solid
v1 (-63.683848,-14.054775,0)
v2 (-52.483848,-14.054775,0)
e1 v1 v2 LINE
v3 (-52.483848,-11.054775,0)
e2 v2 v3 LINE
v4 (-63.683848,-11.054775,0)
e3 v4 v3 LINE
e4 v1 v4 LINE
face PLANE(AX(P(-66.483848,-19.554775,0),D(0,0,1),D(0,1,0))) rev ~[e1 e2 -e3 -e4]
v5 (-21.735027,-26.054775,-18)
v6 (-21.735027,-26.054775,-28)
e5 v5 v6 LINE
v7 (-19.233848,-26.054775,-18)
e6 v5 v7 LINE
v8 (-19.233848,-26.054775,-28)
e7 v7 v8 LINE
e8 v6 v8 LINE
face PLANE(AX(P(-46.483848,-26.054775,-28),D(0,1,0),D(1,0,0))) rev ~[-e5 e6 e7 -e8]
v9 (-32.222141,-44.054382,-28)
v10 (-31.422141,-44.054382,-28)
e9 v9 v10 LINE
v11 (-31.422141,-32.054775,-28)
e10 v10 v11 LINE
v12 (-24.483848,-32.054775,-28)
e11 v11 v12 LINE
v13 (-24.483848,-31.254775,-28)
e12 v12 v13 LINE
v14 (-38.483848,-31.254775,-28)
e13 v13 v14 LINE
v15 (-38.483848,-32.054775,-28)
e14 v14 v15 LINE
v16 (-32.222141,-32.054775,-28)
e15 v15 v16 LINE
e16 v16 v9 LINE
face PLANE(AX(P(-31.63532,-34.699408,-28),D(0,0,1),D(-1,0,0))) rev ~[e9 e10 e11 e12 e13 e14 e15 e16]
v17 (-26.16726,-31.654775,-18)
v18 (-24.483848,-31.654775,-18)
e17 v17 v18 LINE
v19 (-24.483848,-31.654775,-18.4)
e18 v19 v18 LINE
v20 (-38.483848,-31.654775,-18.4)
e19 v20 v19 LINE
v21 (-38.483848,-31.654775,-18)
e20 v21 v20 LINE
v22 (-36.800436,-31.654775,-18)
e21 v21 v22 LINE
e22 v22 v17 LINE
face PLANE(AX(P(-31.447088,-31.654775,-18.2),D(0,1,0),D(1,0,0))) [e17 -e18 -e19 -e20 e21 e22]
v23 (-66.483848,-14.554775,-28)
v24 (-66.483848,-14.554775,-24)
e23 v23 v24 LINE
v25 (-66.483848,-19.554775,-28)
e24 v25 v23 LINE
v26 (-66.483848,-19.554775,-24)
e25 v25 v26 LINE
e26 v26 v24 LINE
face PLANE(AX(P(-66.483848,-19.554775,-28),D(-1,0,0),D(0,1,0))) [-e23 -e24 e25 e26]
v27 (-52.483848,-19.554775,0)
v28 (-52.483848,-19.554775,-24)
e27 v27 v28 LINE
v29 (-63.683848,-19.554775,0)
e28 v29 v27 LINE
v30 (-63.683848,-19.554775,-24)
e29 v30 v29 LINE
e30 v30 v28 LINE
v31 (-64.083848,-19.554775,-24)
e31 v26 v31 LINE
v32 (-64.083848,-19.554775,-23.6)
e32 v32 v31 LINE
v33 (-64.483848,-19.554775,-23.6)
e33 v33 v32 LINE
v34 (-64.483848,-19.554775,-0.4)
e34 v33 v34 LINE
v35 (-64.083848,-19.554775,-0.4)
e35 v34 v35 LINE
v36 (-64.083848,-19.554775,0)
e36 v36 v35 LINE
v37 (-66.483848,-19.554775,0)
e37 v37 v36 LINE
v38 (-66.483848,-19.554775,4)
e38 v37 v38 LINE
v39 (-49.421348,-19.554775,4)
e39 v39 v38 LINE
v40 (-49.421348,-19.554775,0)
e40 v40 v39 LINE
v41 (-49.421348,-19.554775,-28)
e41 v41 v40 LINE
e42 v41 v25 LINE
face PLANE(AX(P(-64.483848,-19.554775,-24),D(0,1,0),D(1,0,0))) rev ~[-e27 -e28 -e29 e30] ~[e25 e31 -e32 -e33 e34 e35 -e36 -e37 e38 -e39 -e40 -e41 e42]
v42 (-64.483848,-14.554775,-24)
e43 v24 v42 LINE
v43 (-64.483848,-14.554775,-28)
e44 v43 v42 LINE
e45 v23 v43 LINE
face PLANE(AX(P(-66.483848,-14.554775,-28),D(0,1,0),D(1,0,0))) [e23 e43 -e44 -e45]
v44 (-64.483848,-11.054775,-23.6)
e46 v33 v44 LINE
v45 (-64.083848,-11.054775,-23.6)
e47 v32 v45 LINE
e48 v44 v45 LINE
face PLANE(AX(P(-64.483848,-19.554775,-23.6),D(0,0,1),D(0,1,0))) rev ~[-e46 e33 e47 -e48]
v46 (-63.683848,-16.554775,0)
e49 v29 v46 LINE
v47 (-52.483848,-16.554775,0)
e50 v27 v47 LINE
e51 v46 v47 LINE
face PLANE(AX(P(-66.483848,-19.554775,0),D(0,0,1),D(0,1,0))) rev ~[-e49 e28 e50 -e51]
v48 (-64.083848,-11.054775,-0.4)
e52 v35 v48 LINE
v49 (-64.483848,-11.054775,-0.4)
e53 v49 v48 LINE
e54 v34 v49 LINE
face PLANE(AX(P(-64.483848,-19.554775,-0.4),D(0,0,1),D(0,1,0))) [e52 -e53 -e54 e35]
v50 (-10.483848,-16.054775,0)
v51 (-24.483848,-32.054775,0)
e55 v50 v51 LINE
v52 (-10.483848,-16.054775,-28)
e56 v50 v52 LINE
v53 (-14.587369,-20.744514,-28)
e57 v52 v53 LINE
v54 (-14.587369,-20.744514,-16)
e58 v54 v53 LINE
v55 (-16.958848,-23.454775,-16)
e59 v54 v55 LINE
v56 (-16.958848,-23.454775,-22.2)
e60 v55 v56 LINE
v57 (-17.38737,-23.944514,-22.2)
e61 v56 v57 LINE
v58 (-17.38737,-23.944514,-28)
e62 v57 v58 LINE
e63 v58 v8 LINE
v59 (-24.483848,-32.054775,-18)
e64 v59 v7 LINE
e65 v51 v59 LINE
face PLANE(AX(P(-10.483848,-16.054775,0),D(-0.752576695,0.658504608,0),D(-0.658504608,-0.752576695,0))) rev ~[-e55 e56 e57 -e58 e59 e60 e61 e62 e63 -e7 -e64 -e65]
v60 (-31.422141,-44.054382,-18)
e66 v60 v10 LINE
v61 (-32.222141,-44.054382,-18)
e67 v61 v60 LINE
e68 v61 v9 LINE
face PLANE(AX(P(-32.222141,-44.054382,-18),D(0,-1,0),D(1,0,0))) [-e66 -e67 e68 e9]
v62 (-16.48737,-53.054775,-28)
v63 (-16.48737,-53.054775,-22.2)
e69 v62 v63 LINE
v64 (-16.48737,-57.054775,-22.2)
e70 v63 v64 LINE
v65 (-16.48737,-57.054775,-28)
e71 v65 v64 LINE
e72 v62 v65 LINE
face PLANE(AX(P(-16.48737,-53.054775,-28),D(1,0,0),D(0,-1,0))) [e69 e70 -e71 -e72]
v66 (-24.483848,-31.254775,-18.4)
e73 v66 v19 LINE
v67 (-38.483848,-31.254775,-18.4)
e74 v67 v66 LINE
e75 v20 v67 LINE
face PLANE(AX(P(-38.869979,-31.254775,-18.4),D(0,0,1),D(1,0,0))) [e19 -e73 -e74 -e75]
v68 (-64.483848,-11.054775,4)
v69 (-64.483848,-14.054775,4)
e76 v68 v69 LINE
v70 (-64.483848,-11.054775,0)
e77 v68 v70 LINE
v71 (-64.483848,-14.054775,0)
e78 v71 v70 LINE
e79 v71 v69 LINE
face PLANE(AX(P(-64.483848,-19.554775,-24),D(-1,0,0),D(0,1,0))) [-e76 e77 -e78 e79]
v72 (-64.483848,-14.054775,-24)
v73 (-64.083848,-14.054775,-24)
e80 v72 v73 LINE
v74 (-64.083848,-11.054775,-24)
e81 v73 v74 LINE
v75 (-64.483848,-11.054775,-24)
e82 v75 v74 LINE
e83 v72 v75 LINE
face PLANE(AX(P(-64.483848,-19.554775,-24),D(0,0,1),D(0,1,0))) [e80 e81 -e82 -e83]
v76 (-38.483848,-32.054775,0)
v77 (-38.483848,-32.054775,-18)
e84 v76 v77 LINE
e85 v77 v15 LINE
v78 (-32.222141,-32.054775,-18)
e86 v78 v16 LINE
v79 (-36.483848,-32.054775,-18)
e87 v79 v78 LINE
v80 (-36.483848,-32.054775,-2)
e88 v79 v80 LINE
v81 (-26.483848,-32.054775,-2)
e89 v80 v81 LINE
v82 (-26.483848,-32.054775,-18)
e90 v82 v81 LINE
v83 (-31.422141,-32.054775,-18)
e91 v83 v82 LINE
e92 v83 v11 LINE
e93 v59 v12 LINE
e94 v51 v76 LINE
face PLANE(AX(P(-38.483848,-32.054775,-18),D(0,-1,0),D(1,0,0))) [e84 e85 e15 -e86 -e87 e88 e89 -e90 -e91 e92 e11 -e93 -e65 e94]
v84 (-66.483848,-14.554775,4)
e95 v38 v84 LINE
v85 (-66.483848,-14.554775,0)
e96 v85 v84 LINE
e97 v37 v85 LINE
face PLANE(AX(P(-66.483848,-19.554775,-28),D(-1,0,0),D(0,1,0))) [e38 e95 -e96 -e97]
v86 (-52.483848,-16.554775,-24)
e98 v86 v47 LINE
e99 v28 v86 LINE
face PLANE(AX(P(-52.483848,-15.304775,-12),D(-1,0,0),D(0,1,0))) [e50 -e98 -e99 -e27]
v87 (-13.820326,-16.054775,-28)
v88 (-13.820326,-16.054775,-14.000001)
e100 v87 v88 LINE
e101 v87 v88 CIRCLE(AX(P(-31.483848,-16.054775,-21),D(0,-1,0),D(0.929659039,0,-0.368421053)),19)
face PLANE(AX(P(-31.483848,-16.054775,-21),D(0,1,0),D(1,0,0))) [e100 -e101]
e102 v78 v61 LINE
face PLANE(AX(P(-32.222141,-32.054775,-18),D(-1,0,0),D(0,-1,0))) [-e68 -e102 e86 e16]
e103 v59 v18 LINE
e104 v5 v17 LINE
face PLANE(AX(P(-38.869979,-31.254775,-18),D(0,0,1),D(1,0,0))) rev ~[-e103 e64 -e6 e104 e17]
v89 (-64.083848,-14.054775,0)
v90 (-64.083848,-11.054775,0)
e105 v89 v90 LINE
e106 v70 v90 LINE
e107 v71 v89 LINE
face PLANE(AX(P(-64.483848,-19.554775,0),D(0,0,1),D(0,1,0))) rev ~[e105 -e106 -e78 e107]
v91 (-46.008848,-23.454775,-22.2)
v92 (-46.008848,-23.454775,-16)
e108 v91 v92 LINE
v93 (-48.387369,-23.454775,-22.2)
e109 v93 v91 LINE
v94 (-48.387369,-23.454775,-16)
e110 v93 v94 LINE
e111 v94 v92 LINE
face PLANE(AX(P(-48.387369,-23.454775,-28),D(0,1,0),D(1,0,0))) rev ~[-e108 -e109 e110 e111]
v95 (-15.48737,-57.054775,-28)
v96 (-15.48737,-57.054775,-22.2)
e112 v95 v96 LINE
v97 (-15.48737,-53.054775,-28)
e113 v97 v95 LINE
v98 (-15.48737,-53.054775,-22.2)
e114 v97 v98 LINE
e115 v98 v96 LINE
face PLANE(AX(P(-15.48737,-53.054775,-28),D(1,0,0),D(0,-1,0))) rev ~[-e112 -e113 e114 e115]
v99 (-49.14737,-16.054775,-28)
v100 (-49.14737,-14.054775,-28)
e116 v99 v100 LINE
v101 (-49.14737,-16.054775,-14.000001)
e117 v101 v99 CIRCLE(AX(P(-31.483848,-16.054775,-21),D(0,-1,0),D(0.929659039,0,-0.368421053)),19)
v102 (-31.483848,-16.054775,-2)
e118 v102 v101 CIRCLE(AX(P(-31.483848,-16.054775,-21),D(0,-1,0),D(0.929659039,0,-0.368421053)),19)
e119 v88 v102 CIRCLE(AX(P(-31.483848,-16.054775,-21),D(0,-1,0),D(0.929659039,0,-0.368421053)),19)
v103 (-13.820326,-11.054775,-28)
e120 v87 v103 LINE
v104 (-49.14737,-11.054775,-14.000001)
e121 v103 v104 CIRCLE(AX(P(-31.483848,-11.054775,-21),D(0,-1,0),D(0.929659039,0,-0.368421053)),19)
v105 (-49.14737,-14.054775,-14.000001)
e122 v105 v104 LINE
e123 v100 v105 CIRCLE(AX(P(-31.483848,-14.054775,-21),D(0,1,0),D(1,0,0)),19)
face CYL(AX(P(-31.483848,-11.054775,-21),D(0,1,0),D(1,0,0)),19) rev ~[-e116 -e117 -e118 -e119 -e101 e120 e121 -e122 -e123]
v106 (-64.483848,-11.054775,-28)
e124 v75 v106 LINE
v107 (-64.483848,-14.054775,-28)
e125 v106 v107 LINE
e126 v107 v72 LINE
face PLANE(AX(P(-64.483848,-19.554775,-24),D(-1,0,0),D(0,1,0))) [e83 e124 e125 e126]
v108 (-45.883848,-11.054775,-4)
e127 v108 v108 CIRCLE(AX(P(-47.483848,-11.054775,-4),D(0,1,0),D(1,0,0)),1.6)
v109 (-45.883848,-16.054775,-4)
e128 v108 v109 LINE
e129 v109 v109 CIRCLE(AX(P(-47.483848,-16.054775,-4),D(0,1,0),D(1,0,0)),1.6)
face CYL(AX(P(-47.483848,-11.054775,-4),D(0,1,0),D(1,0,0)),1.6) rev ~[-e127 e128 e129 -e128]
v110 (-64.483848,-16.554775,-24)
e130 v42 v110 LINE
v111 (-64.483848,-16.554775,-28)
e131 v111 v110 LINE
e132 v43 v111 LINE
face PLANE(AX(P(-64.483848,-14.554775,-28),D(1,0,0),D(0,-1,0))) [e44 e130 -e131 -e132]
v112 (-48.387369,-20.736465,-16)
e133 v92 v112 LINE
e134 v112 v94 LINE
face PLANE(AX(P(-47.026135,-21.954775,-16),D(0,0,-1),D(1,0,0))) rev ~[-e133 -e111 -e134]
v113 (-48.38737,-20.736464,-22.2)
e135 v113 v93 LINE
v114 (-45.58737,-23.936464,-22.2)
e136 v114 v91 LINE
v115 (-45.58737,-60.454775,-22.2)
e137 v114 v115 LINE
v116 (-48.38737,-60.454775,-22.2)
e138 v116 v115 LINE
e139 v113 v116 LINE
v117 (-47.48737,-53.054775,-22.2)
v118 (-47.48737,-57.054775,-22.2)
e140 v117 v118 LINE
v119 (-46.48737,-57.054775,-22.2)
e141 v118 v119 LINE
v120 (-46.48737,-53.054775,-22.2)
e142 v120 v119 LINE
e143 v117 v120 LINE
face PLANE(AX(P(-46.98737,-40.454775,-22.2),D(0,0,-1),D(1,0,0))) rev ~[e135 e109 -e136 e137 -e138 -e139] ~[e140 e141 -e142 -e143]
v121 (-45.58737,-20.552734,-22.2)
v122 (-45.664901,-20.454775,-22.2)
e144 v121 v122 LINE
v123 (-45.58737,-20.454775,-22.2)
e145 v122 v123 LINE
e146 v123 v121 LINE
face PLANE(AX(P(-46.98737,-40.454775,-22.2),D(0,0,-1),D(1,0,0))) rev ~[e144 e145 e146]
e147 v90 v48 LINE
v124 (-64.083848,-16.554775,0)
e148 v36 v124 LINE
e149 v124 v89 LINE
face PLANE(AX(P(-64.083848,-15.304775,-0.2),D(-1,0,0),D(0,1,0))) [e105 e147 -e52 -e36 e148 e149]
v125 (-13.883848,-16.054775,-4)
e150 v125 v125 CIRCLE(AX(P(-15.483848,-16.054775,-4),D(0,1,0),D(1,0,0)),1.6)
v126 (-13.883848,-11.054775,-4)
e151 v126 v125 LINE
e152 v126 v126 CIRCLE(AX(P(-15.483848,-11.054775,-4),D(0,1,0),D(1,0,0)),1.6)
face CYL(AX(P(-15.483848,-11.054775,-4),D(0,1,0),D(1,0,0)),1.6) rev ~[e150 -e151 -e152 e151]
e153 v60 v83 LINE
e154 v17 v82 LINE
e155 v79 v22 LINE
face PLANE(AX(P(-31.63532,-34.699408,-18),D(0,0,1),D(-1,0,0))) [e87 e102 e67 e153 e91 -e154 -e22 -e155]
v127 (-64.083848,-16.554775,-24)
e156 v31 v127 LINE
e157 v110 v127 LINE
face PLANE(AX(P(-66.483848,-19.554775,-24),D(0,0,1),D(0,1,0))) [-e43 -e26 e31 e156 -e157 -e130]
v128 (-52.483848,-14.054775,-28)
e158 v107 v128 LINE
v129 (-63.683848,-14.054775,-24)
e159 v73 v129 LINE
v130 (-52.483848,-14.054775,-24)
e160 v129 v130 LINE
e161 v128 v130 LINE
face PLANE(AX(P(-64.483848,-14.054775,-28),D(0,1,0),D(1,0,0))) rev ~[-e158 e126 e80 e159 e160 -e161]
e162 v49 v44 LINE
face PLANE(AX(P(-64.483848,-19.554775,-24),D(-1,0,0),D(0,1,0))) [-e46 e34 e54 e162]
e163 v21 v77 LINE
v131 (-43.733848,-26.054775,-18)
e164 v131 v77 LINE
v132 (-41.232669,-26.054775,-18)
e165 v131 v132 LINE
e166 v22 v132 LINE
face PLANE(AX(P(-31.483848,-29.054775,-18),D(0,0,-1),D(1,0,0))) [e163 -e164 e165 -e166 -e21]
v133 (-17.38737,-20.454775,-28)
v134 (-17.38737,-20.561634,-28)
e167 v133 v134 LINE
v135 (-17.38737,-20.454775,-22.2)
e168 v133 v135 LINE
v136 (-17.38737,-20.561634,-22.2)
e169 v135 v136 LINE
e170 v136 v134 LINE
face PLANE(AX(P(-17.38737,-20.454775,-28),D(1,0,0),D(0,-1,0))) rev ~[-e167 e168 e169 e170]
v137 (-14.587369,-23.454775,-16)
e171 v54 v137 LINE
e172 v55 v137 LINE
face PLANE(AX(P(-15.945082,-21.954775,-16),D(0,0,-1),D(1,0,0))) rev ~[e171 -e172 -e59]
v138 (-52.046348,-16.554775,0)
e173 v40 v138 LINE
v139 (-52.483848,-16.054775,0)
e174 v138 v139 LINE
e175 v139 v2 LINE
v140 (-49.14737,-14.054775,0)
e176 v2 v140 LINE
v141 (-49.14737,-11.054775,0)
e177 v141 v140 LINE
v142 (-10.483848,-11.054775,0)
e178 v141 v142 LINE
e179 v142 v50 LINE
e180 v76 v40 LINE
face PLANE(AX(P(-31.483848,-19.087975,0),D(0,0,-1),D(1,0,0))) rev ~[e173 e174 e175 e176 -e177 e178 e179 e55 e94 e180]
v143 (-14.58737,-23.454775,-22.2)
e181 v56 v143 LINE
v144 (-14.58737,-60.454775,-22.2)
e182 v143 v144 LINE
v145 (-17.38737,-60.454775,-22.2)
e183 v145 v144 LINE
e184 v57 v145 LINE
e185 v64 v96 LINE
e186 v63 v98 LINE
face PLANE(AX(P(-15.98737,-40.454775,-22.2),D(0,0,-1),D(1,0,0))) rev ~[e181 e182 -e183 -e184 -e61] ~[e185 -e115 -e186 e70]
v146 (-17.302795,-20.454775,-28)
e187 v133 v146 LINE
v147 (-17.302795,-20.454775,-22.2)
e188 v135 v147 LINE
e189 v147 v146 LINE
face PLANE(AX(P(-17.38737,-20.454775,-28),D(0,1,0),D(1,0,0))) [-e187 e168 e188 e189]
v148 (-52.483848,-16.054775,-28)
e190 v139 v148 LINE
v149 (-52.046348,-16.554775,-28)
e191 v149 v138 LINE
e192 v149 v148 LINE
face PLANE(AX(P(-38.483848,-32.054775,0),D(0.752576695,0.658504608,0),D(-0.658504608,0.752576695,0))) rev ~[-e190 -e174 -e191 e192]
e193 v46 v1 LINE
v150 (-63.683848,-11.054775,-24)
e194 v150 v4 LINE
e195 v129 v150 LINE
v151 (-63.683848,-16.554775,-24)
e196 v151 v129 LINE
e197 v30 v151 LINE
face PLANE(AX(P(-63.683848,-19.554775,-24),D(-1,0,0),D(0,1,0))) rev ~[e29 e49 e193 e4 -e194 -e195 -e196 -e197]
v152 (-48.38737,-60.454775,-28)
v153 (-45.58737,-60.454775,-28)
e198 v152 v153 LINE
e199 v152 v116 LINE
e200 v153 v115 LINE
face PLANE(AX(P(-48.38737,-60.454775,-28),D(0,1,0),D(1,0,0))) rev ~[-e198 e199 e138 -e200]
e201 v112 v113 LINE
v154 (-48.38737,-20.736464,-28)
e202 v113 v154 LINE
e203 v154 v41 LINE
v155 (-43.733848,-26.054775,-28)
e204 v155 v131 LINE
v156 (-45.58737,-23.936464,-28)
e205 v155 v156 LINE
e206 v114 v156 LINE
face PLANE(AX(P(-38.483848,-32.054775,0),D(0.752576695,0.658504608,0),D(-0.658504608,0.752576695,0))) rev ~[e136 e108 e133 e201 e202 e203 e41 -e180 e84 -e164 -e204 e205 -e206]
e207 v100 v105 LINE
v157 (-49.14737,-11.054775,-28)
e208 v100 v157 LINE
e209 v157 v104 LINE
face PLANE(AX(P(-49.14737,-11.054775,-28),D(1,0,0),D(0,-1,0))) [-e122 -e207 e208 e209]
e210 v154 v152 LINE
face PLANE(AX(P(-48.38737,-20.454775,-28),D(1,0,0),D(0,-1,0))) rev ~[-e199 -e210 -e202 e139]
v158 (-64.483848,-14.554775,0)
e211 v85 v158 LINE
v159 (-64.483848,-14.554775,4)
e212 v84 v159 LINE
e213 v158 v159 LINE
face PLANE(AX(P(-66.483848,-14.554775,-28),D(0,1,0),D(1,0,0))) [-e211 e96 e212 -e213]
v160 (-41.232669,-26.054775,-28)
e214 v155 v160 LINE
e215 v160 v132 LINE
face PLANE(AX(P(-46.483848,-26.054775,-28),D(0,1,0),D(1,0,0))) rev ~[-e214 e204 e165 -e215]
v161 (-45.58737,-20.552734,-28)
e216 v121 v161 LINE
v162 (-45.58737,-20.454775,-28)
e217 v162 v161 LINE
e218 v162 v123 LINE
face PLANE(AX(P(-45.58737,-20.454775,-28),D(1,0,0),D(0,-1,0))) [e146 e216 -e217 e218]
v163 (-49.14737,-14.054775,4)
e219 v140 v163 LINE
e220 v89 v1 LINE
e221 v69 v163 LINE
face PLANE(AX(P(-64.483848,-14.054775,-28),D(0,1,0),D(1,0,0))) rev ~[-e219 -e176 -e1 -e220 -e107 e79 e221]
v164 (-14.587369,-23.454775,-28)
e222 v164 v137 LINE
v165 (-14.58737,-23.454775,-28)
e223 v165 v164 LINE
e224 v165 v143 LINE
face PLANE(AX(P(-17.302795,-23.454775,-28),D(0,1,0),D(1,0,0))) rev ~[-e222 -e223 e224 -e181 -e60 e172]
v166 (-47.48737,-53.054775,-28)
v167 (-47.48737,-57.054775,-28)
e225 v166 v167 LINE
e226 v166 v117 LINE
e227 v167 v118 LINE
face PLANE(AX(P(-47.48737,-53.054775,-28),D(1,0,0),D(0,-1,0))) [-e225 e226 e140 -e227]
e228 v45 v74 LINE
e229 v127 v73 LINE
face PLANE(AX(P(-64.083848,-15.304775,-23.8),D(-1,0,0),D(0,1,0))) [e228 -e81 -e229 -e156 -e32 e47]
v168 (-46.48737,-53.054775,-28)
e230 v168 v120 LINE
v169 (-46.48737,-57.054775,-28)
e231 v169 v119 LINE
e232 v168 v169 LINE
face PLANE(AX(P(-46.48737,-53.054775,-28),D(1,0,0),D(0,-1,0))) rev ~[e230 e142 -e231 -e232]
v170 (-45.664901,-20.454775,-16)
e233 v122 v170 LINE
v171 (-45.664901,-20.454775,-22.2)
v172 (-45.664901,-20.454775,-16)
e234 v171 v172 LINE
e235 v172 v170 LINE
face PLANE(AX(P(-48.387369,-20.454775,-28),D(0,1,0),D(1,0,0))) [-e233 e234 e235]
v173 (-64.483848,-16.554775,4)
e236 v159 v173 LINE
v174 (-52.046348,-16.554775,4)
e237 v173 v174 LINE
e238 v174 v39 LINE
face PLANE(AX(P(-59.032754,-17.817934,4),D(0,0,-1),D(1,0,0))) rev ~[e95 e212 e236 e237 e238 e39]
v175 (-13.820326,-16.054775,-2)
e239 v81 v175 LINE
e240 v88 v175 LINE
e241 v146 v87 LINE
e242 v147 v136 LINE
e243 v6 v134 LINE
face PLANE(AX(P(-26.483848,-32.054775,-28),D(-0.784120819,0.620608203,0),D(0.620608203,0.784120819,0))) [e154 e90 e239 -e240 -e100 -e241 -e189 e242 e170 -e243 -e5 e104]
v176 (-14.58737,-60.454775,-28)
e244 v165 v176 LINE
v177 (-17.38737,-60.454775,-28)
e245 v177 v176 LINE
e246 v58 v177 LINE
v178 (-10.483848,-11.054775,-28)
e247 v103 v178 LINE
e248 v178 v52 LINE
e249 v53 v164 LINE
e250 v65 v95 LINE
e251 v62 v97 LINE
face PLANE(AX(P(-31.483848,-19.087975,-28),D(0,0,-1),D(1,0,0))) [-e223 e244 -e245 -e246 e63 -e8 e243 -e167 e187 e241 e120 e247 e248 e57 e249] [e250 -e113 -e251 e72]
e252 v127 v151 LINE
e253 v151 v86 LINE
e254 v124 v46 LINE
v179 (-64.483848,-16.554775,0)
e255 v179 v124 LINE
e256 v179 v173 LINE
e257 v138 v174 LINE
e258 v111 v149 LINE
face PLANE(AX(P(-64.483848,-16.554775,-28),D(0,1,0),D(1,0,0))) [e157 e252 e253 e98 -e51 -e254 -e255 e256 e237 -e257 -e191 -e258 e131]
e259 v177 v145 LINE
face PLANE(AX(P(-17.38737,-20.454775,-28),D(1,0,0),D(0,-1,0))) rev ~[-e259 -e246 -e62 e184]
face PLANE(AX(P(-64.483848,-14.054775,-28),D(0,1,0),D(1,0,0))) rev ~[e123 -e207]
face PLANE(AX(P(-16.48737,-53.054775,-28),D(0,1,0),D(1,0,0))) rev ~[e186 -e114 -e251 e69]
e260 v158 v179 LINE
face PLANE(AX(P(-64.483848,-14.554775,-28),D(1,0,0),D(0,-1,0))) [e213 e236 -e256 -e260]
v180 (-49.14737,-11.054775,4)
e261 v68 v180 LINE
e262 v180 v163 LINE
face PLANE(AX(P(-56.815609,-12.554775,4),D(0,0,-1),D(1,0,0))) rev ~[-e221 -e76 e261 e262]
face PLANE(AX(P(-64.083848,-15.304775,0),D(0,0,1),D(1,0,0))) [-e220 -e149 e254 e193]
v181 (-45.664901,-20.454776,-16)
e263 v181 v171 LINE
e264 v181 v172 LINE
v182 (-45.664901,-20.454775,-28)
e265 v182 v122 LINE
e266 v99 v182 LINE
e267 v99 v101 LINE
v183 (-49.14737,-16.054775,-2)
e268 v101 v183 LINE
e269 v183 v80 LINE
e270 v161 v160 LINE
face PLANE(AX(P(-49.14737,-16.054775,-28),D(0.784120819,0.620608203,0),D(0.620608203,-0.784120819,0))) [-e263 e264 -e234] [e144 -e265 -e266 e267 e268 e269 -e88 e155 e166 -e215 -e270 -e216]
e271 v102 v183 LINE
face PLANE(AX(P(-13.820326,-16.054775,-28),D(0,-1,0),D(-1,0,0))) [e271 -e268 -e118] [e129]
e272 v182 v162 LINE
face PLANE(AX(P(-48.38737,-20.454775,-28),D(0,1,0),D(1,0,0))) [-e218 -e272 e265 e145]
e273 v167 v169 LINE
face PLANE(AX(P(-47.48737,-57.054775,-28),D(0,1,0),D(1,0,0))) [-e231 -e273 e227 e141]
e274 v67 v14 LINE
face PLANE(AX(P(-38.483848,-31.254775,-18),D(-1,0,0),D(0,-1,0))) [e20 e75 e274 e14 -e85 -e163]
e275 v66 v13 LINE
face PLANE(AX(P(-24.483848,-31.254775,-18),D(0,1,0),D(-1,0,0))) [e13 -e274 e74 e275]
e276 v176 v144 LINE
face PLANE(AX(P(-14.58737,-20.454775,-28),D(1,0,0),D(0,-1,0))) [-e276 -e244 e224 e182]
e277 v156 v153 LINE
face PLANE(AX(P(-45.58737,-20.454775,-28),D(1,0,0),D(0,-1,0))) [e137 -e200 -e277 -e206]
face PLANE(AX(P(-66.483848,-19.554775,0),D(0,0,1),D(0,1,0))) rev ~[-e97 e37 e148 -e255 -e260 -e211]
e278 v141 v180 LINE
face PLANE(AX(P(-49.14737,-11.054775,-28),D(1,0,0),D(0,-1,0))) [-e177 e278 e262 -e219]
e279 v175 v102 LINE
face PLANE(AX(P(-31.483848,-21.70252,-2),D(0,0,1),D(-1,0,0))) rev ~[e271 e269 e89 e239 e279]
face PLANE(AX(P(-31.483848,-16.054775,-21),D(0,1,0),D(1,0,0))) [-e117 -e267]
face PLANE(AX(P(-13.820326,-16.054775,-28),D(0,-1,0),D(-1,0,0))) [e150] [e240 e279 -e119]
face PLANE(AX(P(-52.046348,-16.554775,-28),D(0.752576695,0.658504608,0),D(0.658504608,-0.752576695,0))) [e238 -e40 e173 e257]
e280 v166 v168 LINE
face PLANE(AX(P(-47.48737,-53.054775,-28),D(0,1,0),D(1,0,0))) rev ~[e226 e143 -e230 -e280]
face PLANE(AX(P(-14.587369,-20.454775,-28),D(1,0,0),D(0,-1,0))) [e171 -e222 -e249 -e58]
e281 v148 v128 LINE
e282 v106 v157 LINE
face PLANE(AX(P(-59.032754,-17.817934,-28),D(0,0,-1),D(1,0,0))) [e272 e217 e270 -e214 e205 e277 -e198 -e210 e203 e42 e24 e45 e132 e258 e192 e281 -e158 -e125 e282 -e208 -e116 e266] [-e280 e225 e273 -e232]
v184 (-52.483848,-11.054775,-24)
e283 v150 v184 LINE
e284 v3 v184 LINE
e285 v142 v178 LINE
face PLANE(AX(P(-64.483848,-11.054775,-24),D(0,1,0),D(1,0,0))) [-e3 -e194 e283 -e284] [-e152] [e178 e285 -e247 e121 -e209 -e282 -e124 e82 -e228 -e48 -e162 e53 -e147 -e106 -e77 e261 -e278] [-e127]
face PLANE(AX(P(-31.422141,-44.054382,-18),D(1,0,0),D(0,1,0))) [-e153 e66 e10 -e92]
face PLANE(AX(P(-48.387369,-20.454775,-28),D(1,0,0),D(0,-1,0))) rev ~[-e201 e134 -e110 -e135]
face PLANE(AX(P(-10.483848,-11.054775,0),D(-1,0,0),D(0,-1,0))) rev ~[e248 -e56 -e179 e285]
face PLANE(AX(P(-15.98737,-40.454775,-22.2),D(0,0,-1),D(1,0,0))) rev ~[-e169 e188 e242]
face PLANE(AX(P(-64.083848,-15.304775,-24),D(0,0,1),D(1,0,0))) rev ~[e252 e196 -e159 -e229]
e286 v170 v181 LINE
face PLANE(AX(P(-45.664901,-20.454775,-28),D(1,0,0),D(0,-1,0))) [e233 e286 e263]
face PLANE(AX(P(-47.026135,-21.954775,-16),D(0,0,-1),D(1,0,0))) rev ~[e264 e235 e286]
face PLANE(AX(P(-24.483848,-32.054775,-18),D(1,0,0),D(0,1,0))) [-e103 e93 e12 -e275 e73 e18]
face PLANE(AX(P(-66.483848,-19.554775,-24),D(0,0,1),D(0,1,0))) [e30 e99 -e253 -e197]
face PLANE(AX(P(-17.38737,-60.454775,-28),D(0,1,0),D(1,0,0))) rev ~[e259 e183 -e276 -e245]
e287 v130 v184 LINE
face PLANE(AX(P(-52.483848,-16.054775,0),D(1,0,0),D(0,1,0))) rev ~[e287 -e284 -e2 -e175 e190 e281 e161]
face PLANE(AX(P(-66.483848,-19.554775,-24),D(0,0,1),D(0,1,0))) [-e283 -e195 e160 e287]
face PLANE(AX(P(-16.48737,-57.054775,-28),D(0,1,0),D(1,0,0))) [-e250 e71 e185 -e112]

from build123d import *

# Parameters (mm, degrees)
PAD_DEPTH       = 28
SKETCH001_R     = 19
POCKET_DEPTH    = 5
POCKET001_DEPTH = 26
SKETCH003_W     = 30
SKETCH003_H     = 6
POCKET002_DEPTH = 10
SKETCH004_W     = 2.8
SKETCH004_H     = 40
PAD001_DEPTH    = 5.8
SKETCH005_W     = 2.722469
SKETCH005_H     = 3
SKETCH005_W_2   = 2.715425
PAD002_DEPTH    = 12
SKETCH006_R     = 1.6
POCKET003_DEPTH = 5
SKETCH007_W     = 1
SKETCH007_H     = 4
POCKET004_DEPTH = 6
PAD003_DEPTH    = 10
SKETCH009_W     = 14.845783
SKETCH009_H     = 0.4
POCKET005_DEPTH = 0.4
SKETCH010_W     = 15.336478
SKETCH010_H     = 3
PAD004_DEPTH    = 32
SKETCH011_W     = 8.5
SKETCH011_H     = 24
POCKET006_DEPTH = 14
SKETCH012_W     = 0.8
SKETCH012_H     = 8.5
PAD005_DEPTH    = 24
SKETCH013_W     = 8.5
SKETCH013_H     = 0.4
POCKET007_DEPTH = 0.4


with BuildPart() as part:
    # Sketch → Pad (new body)
    with BuildSketch(Plane(origin=(0, 0, 0), x_dir=(1, 0, 0), z_dir=(0, 0, -1))):
        Polygon((-52.483848, 11.054775), (-10.483848, 11.054775), (-10.483848, 16.054775), (-24.483848, 32.054775), (-38.483848, 32.054775), (-52.483848, 16.054775), align=None)
    extrude(amount=PAD_DEPTH)

    # Sketch001 → Pocket (cut)
    with BuildSketch(Plane(origin=(0, -11.054775, 0), x_dir=(1, 0, 0), z_dir=(0, 1, 0))):
        with Locations((-31.483848, 21)):
            Circle(SKETCH001_R)
    extrude(amount=-POCKET_DEPTH, mode=Mode.SUBTRACT)

    # Sketch002 → Pocket001 (cut)
    with BuildSketch(Plane(origin=(0, 0, -28), x_dir=(1, 0, 0), z_dir=(0, 0, -1))):
        Polygon((-49.14737, 16.054775), (-36.483848, 32.054775), (-26.483848, 32.054775), (-13.820326, 16.054775), align=None)
    extrude(amount=-POCKET001_DEPTH, mode=Mode.SUBTRACT)

    # Sketch003 → Pocket002 (cut)
    with BuildSketch(Plane(origin=(0, 0, -28), x_dir=(1, 0, 0), z_dir=(0, 0, -1))):
        with Locations((-31.483848, 29.054775)):
            Rectangle(SKETCH003_W, SKETCH003_H)
    extrude(amount=-POCKET002_DEPTH, mode=Mode.SUBTRACT)

    # Sketch004 → Pad001 (new body)
    with BuildSketch(Plane(origin=(0, 0, -28), x_dir=(1, 0, 0), z_dir=(0, 0, -1))):
        with Locations((-46.98737, 40.454775)):
            Rectangle(SKETCH004_W, SKETCH004_H)
        with Locations((-15.98737, 40.454775)):
            Rectangle(SKETCH004_W, SKETCH004_H)
    extrude(amount=-PAD001_DEPTH)

    # Sketch005 → Pad002 (new body)
    with BuildSketch(Plane(origin=(0, 0, -28), x_dir=(1, 0, 0), z_dir=(0, 0, -1))):
        with Locations((-47.026135, 21.954775)):
            Rectangle(SKETCH005_W, SKETCH005_H)
        with Locations((-15.945082, 21.954775)):
            Rectangle(SKETCH005_W_2, SKETCH005_H)
    extrude(amount=-PAD002_DEPTH)

    # Sketch006 → Pocket003 (cut)
    with BuildSketch(Plane(origin=(0, -11.054775, 0), x_dir=(1, 0, 0), z_dir=(0, 1, 0))):
        with Locations((-47.483848, 4)):
            Circle(SKETCH006_R)
        with Locations((-15.483848, 4)):
            Circle(SKETCH006_R)
    extrude(amount=-POCKET003_DEPTH, mode=Mode.SUBTRACT)

    # Sketch007 → Pocket004 (cut)
    with BuildSketch(Plane(origin=(0, 0, -28), x_dir=(1, 0, 0), z_dir=(0, 0, -1))):
        with Locations((-46.98737, 55.054775)):
            Rectangle(SKETCH007_W, SKETCH007_H)
        with Locations((-15.98737, 55.054775)):
            Rectangle(SKETCH007_W, SKETCH007_H)
    extrude(amount=-POCKET004_DEPTH, mode=Mode.SUBTRACT)

    # Sketch008 → Pad003 (new body)
    with BuildSketch(Plane(origin=(0, 0, -18), x_dir=(1, 0, 0), z_dir=(0, 0, -1))):
        Polygon((-32.222141, 44.054382), (-31.422141, 44.054382), (-31.422141, 32.054775), (-24.483848, 32.054775), (-24.483848, 31.254775), (-38.483848, 31.254775), (-38.483848, 32.054775), (-32.222141, 32.054775), align=None)
    extrude(amount=PAD003_DEPTH)

    # Sketch009 → Pocket005 (cut)
    with BuildSketch(Plane(origin=(0, -31.254775, 0), x_dir=(1, 0, 0), z_dir=(0, 1, 0))):
        with Locations((-31.447088, 18.2)):
            Rectangle(SKETCH009_W, SKETCH009_H)
    extrude(amount=-POCKET005_DEPTH, mode=Mode.SUBTRACT)

    # Sketch010 → Pad004 (new body)
    with BuildSketch(Plane(origin=(0, 0, -28), x_dir=(1, 0, 0), z_dir=(0, 0, -1))):
        Polygon((-49.421348, 19.554775), (-66.483848, 19.554775), (-66.483848, 14.554775), (-64.483848, 14.554775), (-64.483848, 16.554775), (-52.046348, 16.554775), align=None)
        with Locations((-56.815609, 12.554775)):
            Rectangle(SKETCH010_W, SKETCH010_H)
    extrude(amount=-PAD004_DEPTH)

    # Sketch011 → Pocket006 (cut)
    with BuildSketch(Plane(origin=(-66.483848, 0, 0), x_dir=(0, 1, 0), z_dir=(-1, 0, 0))):
        with Locations((-15.304775, 12)):
            Rectangle(SKETCH011_W, SKETCH011_H)
    extrude(amount=-POCKET006_DEPTH, mode=Mode.SUBTRACT)

    # Sketch012 → Pad005 (new body)
    with BuildSketch(Plane.XY.offset(-24)):
        with Locations((-64.083848, -15.304775)):
            Rectangle(SKETCH012_W, SKETCH012_H)
    extrude(amount=PAD005_DEPTH)

    # Sketch013 → Pocket007 (cut)
    with BuildSketch(Plane(origin=(-64.483848, 0, 0), x_dir=(0, 1, 0), z_dir=(-1, 0, 0))):
        with Locations((-15.304775, 0.2)):
            Rectangle(SKETCH013_W, SKETCH013_H)
        with Locations((-15.304775, 23.8)):
            Rectangle(SKETCH013_W, SKETCH013_H)
    extrude(amount=-POCKET007_DEPTH, mode=Mode.SUBTRACT)


solid = part.part
